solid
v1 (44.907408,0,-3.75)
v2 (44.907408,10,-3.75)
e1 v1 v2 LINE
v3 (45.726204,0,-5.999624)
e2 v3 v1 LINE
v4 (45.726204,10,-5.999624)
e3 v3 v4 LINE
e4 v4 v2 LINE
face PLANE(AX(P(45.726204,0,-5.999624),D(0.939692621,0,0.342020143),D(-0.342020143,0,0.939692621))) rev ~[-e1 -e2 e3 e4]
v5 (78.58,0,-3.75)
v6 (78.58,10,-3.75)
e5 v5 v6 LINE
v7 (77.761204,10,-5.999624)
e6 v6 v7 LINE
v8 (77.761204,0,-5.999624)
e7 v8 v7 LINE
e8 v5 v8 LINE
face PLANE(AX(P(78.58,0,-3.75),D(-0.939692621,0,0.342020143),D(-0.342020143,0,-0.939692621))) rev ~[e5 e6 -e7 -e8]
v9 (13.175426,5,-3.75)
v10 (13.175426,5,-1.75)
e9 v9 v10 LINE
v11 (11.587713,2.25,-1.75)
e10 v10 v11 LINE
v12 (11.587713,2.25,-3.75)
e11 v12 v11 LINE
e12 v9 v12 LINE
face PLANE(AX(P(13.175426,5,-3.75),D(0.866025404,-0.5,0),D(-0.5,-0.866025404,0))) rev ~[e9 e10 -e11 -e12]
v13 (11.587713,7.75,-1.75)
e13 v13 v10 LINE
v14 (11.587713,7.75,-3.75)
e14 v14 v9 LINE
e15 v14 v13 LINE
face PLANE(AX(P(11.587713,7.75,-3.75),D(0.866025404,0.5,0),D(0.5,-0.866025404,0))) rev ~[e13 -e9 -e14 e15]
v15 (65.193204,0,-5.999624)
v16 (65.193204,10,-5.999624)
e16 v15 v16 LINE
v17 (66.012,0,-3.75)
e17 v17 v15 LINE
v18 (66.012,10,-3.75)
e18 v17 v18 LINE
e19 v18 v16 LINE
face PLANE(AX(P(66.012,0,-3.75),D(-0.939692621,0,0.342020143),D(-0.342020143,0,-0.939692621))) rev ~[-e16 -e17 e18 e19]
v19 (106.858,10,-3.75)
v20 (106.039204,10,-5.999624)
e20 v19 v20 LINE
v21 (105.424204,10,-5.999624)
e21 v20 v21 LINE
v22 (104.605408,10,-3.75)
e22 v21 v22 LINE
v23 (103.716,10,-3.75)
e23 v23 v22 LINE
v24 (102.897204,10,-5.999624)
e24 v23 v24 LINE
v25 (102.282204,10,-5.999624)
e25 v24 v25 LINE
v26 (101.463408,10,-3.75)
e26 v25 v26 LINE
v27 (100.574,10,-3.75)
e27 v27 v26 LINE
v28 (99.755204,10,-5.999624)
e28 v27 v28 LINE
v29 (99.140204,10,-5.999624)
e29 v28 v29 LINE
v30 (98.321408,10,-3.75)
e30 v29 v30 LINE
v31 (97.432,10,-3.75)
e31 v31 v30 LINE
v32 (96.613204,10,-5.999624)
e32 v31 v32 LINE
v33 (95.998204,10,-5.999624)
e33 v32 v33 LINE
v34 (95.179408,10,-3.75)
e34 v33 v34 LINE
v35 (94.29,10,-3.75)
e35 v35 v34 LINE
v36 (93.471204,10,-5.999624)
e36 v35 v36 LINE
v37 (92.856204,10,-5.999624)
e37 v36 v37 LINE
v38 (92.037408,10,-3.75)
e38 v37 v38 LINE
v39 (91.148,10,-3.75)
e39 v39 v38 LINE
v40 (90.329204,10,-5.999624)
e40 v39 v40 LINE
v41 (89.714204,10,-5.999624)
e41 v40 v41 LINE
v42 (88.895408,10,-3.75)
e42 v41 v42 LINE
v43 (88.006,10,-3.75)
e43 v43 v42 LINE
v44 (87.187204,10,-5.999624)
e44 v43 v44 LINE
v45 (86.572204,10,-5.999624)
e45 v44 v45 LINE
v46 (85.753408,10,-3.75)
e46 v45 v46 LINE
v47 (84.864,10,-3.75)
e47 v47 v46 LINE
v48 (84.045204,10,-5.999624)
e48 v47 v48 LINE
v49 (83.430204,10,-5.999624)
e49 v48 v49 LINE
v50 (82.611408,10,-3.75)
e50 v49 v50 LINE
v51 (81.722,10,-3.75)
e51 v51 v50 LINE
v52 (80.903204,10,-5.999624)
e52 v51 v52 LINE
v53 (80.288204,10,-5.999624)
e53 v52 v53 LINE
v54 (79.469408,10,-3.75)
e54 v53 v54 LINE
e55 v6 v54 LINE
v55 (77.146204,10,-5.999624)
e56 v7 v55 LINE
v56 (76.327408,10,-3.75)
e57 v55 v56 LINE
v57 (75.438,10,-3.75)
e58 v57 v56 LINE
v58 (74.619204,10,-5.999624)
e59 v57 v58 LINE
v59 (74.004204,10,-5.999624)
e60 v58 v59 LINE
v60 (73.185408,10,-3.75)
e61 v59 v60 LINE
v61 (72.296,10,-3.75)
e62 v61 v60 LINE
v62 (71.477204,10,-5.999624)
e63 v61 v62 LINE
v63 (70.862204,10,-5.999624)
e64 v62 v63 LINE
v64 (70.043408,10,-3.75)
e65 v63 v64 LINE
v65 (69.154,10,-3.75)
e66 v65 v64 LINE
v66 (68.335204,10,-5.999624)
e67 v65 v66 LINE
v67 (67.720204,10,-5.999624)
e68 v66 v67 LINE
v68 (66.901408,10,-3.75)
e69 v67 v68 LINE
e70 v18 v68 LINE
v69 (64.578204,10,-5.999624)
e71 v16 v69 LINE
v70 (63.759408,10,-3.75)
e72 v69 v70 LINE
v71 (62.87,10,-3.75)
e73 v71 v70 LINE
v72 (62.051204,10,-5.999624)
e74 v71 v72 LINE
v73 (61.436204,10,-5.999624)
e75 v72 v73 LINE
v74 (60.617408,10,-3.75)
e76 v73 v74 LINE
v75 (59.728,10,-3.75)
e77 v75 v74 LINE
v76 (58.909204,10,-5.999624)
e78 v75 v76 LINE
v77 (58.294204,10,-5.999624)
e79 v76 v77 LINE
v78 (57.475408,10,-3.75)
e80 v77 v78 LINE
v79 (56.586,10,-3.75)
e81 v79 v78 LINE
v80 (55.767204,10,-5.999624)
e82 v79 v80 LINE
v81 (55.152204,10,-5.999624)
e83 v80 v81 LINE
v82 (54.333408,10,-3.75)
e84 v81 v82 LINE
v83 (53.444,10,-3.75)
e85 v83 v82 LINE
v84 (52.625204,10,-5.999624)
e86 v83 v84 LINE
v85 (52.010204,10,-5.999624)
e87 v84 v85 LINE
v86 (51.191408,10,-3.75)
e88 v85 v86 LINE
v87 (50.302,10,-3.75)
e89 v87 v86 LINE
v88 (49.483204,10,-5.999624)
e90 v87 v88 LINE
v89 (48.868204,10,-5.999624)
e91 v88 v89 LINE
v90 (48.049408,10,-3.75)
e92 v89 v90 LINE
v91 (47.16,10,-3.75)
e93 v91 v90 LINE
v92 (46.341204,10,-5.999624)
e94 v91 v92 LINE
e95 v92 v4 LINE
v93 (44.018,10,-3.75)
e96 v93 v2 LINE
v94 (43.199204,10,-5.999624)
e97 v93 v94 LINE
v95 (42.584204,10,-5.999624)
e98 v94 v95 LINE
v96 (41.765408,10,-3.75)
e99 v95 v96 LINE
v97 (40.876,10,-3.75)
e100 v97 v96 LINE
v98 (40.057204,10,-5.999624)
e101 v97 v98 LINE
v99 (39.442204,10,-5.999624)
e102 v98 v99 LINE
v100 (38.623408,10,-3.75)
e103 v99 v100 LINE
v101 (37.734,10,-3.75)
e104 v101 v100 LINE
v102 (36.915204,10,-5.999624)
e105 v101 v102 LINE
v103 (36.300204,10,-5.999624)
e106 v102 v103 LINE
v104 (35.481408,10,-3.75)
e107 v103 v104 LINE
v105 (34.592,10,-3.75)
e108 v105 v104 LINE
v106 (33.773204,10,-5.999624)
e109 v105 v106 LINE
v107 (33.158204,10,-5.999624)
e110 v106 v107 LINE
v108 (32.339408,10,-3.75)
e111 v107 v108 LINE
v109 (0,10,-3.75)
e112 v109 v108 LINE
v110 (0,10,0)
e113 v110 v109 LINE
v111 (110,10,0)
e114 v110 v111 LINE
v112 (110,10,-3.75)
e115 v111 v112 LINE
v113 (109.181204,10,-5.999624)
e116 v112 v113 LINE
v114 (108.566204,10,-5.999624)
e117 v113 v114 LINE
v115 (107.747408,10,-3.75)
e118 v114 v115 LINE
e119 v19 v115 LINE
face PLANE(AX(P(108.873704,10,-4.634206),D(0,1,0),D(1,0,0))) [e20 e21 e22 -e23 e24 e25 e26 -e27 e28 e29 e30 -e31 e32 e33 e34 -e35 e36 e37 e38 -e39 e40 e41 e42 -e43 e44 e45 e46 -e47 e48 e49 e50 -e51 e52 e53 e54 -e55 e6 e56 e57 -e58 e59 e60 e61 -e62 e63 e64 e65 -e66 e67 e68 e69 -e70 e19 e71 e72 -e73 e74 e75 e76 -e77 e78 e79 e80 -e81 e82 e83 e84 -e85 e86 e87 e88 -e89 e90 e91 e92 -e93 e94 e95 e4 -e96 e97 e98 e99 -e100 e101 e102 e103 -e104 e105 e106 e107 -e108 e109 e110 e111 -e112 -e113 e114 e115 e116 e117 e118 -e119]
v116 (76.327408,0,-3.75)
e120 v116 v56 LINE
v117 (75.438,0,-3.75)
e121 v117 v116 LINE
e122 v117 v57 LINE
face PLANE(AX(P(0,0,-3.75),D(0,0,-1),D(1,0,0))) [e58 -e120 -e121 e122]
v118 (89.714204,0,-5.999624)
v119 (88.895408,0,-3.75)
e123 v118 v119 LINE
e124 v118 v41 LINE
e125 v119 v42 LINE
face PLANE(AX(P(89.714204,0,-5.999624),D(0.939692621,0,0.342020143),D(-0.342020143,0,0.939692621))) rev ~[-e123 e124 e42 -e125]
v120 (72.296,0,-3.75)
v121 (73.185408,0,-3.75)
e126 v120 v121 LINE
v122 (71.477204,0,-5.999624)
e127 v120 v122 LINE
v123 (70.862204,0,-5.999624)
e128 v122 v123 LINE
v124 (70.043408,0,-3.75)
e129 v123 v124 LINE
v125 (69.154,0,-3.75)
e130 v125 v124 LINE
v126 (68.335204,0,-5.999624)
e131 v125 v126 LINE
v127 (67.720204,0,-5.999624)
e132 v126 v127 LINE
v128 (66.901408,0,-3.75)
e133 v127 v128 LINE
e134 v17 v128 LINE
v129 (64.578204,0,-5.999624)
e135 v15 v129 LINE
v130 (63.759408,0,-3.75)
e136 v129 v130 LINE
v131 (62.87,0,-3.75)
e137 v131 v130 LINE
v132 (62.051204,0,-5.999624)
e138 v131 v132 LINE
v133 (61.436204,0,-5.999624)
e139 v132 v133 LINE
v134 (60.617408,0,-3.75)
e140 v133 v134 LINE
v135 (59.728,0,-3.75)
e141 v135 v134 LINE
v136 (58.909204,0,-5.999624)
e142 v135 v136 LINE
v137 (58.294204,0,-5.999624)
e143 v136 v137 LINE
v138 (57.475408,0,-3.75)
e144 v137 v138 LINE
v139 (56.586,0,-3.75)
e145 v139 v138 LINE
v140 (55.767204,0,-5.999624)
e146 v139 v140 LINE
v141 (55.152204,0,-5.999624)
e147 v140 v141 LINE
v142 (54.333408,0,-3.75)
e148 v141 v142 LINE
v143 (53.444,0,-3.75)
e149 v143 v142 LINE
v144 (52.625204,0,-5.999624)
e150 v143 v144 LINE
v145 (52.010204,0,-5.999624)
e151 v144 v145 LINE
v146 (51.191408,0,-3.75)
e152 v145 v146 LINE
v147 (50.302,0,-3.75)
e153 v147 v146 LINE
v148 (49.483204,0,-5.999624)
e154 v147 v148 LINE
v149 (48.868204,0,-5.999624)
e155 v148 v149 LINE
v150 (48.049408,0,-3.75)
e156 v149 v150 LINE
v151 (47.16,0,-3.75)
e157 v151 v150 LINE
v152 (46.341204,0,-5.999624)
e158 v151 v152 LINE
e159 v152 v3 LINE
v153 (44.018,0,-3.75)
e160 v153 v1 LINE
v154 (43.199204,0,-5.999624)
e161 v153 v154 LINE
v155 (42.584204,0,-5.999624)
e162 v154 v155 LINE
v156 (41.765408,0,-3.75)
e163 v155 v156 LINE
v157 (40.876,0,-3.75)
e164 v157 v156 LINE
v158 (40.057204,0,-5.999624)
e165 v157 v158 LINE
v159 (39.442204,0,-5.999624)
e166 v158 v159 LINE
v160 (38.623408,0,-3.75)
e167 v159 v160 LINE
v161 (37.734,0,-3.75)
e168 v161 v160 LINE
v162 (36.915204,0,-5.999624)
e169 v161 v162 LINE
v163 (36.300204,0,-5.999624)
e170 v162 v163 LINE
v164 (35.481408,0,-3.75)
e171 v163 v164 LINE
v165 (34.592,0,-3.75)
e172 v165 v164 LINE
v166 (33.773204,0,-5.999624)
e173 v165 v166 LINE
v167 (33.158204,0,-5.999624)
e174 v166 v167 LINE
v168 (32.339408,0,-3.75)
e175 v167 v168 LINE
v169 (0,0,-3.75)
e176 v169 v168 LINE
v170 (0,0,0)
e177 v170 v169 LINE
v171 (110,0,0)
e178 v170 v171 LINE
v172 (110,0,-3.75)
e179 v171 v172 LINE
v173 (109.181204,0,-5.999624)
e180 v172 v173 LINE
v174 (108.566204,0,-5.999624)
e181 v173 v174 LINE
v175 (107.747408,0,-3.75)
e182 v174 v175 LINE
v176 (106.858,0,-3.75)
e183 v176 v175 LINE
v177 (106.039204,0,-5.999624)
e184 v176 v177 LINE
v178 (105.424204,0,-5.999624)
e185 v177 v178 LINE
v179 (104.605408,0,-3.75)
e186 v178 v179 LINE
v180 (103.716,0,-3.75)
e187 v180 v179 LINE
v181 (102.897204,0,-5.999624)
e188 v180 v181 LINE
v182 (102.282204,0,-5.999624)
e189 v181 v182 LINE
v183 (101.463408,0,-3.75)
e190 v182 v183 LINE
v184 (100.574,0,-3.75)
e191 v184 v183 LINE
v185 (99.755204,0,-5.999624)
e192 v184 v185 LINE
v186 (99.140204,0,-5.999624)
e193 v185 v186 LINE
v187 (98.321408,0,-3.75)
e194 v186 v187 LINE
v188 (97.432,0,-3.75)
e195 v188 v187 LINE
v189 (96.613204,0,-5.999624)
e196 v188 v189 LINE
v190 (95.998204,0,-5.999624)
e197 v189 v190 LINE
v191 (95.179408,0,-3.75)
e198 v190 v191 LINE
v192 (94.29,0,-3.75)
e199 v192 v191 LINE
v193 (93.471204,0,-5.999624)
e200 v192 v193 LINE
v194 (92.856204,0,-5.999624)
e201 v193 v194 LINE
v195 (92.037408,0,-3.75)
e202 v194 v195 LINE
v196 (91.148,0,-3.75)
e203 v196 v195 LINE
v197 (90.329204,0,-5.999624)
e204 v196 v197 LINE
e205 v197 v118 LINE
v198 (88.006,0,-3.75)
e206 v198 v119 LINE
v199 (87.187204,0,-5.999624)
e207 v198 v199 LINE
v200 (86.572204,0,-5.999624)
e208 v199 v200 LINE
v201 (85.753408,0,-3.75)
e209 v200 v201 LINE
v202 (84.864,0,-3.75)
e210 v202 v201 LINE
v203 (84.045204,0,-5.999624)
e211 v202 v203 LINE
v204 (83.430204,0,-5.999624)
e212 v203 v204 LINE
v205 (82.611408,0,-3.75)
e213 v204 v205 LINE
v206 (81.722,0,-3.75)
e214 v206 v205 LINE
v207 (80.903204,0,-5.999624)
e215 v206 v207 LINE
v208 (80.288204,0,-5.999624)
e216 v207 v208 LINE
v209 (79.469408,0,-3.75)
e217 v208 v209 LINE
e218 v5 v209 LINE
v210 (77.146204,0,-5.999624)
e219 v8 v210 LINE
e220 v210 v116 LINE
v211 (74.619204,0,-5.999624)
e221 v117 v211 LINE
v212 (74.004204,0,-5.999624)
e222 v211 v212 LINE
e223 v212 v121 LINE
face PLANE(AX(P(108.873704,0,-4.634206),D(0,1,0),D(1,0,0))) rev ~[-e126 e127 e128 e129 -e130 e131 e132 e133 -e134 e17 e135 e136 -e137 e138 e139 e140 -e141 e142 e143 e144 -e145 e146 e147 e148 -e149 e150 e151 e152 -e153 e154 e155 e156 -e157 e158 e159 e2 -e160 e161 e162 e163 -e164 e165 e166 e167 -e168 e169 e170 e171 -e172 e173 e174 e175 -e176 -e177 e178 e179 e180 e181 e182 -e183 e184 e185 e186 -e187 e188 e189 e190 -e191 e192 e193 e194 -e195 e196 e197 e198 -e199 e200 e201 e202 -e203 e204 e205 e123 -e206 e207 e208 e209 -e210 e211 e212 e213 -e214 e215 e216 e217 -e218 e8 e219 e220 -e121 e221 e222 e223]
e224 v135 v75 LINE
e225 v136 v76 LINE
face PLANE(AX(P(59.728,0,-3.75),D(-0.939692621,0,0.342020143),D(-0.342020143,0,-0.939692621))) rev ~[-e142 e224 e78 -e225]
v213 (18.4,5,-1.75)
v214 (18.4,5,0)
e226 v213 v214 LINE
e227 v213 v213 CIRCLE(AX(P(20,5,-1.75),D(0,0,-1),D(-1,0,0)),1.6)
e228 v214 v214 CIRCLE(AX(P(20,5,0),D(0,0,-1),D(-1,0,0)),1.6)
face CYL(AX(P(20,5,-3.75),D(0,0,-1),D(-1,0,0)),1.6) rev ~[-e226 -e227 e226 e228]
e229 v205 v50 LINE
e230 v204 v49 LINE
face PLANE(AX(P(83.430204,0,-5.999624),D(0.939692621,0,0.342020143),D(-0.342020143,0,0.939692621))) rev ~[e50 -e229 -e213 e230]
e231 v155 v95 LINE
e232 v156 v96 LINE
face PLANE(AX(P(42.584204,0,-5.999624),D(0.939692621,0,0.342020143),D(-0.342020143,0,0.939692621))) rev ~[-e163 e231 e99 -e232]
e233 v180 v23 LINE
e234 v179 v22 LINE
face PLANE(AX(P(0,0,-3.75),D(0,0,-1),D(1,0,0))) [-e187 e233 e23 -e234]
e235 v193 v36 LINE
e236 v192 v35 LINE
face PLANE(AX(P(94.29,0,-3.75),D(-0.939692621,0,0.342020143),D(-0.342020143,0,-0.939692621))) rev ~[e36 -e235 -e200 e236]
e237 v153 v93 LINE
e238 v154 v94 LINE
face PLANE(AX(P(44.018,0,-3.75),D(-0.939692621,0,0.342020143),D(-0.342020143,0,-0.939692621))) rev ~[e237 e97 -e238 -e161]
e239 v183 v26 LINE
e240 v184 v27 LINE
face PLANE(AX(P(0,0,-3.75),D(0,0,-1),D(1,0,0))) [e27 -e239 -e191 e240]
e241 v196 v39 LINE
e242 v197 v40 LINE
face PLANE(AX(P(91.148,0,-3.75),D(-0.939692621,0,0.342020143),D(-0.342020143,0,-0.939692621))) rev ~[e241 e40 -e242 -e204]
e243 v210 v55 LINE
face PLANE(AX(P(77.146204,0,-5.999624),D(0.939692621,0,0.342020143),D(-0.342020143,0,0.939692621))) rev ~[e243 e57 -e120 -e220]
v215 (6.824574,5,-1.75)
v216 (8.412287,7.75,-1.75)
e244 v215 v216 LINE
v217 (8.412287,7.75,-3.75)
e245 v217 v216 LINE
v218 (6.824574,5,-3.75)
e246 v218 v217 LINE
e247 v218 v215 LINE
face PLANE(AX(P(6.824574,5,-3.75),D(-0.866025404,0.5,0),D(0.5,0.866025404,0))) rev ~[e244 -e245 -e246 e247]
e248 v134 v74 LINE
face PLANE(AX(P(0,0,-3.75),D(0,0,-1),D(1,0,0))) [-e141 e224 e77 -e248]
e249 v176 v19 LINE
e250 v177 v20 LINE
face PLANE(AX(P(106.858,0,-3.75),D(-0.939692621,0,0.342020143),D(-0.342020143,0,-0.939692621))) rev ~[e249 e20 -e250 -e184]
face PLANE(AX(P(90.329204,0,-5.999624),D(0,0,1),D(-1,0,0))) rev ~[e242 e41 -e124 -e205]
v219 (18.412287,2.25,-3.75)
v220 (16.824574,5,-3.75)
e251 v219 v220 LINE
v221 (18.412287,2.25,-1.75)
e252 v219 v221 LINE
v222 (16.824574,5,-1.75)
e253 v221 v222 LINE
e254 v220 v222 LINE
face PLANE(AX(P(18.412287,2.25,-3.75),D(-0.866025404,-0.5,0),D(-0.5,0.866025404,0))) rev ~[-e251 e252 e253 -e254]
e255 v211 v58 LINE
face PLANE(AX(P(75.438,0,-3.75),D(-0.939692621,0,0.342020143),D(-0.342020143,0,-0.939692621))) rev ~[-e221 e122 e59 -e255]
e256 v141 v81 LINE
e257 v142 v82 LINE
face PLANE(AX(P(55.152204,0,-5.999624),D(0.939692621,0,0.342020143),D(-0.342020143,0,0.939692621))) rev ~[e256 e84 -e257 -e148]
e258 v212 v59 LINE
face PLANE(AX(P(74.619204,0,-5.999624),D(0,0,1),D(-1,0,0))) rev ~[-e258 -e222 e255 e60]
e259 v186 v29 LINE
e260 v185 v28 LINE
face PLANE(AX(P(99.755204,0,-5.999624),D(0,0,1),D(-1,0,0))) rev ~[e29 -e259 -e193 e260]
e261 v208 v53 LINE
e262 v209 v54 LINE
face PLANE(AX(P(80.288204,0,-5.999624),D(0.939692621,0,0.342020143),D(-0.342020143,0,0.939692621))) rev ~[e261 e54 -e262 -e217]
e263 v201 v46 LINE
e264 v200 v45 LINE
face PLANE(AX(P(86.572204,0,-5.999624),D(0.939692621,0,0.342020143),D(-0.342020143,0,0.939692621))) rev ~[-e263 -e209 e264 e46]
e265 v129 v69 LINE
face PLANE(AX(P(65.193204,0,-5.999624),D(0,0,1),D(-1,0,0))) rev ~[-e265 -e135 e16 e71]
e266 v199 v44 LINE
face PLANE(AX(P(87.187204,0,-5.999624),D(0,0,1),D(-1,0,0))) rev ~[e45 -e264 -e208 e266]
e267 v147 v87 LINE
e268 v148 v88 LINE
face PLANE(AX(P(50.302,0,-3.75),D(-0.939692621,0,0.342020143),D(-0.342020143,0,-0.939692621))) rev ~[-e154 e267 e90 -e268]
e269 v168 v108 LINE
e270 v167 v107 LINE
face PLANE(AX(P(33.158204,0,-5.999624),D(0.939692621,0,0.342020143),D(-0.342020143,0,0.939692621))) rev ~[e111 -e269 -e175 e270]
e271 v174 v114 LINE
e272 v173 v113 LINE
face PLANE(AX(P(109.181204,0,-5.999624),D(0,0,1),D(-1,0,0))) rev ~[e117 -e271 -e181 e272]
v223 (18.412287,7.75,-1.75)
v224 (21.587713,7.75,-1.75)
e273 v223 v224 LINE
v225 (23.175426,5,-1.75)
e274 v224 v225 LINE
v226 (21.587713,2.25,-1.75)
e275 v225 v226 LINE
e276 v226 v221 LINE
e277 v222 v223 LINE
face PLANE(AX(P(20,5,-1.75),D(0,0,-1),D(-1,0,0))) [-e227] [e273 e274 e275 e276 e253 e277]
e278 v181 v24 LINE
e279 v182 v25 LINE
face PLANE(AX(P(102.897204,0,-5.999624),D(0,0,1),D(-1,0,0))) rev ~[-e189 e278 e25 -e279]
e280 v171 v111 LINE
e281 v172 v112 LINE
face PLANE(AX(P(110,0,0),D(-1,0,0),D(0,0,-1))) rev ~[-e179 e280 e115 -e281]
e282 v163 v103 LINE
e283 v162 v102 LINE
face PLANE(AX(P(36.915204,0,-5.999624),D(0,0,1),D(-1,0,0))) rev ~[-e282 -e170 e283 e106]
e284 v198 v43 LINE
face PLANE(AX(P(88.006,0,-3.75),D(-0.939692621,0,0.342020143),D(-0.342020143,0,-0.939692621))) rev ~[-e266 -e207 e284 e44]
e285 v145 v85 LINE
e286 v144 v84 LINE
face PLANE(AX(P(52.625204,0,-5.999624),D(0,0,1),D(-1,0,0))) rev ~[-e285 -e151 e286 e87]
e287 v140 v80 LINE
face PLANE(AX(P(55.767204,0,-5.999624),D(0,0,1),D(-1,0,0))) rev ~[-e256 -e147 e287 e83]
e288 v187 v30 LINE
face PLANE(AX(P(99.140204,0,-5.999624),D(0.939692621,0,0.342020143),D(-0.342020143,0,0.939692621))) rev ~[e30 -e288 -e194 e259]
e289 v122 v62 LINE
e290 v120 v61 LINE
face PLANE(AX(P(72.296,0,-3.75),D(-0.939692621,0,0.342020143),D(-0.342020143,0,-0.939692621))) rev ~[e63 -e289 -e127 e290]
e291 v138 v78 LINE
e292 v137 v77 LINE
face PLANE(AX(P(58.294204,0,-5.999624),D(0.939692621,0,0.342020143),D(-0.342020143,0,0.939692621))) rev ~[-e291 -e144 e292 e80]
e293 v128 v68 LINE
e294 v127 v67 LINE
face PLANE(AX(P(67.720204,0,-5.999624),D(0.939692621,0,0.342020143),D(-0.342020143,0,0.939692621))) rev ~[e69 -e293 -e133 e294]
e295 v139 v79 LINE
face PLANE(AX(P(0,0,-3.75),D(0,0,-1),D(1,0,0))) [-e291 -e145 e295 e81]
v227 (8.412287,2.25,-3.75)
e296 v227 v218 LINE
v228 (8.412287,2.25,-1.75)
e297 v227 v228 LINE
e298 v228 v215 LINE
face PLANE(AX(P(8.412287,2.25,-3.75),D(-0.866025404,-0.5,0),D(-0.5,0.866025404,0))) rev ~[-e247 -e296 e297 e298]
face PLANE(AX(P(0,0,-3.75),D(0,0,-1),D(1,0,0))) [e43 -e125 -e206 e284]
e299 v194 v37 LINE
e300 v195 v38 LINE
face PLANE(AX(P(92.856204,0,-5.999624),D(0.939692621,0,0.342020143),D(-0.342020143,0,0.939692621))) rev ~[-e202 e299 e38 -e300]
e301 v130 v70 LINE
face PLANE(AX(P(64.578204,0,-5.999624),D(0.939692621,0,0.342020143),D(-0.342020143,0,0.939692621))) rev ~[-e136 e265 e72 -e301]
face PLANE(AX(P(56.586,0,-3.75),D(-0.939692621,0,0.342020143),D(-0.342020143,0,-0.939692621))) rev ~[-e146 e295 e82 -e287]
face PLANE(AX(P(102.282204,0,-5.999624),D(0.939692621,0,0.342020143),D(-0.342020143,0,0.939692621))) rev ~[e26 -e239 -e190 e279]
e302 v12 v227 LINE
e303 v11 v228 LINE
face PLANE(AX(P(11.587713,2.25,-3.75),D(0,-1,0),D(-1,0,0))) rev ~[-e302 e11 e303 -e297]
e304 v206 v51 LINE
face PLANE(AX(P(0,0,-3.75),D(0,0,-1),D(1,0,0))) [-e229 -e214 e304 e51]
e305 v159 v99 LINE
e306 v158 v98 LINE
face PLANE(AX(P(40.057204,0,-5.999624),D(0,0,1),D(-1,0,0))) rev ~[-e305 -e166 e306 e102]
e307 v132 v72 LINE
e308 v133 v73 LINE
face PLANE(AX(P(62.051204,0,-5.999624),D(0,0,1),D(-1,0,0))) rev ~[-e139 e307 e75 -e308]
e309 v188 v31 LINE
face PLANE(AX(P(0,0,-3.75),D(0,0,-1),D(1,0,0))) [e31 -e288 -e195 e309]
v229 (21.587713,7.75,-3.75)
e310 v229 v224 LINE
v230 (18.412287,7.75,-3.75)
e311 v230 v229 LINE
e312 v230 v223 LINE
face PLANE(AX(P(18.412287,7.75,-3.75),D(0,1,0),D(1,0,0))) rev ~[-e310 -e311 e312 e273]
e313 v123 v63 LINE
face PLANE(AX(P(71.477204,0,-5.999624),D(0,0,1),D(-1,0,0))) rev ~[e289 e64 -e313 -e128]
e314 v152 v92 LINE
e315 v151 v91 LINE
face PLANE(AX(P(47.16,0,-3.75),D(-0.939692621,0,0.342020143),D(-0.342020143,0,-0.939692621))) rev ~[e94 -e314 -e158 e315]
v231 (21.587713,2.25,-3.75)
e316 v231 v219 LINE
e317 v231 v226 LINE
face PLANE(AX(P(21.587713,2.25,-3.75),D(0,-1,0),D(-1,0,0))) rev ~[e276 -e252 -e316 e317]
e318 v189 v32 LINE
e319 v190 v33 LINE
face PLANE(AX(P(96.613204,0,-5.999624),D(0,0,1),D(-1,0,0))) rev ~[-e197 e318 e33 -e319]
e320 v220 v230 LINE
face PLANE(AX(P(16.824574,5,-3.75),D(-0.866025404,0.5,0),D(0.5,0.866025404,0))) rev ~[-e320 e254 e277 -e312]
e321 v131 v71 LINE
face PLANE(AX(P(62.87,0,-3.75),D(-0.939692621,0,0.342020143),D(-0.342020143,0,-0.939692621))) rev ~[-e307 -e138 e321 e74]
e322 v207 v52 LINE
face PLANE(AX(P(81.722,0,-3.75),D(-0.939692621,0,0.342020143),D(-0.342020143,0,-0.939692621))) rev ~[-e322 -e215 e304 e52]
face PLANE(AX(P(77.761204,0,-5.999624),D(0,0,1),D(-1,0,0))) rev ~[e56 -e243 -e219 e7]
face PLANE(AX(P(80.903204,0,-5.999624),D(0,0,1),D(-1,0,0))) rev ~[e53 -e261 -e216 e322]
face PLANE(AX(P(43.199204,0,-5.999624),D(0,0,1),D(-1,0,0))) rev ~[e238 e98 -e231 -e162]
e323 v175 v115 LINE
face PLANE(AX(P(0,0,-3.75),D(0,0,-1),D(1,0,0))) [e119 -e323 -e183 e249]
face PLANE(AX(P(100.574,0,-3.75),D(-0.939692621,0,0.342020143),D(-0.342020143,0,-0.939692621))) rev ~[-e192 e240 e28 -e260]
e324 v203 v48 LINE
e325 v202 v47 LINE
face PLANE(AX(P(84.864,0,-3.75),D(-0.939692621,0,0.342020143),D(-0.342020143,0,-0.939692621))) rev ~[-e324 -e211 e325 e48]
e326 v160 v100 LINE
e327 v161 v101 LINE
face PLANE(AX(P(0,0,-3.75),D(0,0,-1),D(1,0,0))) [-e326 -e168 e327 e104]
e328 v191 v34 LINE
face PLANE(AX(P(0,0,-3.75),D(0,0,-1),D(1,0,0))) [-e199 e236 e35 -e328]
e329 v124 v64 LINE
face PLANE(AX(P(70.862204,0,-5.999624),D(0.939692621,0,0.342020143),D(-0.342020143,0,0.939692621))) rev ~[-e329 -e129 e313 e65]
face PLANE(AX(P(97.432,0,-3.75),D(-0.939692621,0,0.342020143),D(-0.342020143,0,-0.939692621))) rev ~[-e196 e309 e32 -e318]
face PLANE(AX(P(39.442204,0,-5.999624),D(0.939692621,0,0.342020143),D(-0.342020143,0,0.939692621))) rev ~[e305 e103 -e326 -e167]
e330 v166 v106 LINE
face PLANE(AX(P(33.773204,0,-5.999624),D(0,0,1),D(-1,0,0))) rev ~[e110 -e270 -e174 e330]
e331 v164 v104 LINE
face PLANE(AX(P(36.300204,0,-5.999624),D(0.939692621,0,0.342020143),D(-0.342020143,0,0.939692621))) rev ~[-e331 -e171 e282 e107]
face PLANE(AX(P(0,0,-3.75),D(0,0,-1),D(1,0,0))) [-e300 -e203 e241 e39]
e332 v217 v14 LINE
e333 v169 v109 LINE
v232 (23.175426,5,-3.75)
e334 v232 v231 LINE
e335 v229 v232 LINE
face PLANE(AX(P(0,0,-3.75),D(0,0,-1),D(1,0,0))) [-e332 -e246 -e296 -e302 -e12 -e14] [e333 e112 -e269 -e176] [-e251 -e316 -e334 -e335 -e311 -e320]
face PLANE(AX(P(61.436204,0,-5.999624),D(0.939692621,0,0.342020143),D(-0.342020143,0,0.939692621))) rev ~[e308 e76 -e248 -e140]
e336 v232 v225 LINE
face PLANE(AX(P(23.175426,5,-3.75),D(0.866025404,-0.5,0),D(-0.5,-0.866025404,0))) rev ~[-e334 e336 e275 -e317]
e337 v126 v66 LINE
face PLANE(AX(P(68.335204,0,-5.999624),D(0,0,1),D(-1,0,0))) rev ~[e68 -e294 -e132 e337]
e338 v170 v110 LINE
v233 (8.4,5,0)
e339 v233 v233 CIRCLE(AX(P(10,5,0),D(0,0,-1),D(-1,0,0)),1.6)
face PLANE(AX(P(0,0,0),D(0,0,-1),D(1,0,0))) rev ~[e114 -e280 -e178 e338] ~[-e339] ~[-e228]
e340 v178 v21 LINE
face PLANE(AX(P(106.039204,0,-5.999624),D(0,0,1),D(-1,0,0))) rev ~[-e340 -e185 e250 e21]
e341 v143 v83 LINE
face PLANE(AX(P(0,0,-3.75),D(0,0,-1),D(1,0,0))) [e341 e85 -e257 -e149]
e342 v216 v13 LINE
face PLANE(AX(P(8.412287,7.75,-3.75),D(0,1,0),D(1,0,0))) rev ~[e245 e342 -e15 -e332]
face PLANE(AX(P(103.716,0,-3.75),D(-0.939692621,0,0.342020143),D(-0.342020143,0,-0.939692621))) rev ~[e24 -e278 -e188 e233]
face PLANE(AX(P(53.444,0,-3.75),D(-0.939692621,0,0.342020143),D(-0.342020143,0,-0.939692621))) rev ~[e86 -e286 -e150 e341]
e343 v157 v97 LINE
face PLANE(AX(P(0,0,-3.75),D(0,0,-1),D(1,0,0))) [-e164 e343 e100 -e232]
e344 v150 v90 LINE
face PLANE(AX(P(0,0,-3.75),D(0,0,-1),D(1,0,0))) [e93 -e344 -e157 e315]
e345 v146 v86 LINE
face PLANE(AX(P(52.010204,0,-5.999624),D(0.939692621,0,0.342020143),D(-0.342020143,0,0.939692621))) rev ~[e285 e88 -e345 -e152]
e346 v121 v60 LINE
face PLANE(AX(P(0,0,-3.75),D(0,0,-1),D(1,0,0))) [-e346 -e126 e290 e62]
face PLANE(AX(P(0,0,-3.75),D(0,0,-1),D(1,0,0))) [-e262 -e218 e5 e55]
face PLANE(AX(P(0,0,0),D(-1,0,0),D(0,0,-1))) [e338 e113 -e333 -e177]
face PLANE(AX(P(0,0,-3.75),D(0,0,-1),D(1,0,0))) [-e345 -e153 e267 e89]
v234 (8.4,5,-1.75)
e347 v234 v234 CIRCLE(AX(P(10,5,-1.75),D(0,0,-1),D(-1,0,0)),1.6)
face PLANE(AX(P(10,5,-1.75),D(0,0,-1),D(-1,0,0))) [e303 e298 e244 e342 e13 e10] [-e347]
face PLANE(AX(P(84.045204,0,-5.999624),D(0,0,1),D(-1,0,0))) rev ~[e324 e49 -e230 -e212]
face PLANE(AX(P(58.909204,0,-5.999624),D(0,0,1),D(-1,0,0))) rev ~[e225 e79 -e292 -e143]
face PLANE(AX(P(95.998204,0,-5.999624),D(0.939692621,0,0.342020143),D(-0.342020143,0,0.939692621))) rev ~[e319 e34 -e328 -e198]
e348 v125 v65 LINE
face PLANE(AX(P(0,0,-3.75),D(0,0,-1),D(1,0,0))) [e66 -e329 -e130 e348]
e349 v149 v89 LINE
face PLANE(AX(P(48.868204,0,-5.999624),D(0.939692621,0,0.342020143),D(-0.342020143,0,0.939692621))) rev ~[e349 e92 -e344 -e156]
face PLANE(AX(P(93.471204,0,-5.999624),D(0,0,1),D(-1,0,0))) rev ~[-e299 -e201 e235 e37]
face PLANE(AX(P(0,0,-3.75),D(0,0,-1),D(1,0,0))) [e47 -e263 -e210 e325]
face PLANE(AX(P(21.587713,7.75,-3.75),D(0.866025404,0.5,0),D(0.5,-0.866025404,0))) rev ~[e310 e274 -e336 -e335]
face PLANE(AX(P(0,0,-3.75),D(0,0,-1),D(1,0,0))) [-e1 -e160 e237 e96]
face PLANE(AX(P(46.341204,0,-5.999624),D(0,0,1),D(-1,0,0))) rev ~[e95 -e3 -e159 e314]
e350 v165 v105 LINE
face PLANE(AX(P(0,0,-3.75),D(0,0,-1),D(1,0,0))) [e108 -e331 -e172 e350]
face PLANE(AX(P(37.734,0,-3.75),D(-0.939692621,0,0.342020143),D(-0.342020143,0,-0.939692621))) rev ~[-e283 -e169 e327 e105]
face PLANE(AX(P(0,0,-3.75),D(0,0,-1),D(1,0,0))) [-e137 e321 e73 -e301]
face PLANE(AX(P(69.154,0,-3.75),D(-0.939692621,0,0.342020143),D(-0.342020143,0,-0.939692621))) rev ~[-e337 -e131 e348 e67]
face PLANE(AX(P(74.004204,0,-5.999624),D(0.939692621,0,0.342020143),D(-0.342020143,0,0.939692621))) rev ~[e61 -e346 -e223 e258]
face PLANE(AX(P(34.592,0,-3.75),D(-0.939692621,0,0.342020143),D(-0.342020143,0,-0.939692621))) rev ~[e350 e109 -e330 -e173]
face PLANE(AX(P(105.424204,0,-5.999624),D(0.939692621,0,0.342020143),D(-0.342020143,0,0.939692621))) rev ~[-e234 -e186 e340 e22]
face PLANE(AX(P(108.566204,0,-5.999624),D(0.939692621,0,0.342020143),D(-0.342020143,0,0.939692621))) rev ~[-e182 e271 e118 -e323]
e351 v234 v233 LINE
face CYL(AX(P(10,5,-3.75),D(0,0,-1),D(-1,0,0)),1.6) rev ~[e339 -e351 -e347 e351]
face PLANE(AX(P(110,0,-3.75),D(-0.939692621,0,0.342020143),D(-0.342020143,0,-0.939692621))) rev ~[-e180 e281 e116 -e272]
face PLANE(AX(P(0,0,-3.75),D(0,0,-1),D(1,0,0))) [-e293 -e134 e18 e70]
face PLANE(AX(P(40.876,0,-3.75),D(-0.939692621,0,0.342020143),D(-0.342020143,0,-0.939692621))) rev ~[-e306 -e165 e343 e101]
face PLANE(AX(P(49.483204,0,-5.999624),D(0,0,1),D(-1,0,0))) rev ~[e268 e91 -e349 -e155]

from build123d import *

# Parameters (mm, degrees)
EXTRUDE_1_DEPTH        = 10
EXTRUDE_2_DEPTH        = 10
PATTERN_LINEAR_1_COUNT = 25
PATTERN_LINEAR_1_PITCH = 3.142
SKETCH_2_R             = 1.6
CUT_EXTRUDE_1_DEPTH    = 10
CUT_EXTRUDE_2_DEPTH    = 2


with BuildPart() as part:
    # 草图1 → 凸台-拉伸1 (new body)
    with BuildSketch(Plane(origin=(0, 0, 0), x_dir=(1, 0, 0), z_dir=(0, 1, 0))):
        Polygon((0, 3.75), (0, 0), (110, 0), (110, 3.75), (107.747407554, 3.75), align=None)
    extrude(amount=EXTRUDE_1_DEPTH)

    # 草图1<5> → 凸台-拉伸2 (add)
    with BuildSketch(Plane(origin=(0, 0, 0), x_dir=(1, 0, 0), z_dir=(0, 1, 0))):
        Polygon((107.747407554, 3.75), (110, 3.75), (109.181203777, 5.999624134), (108.566203777, 5.999624134), align=None)
    extrude_2 = extrude(amount=EXTRUDE_2_DEPTH)

    # 阵列(线性)1: 凸台-拉伸2 ×25
    with Locations(*[(-i * PATTERN_LINEAR_1_PITCH, 0, 0) for i in range(1, PATTERN_LINEAR_1_COUNT)]):
        add(extrude_2)

    # 草图2 → 切除-拉伸1 (cut)
    with BuildSketch(Plane(origin=(0, 0, -3.75), x_dir=(-1, 0, 0), z_dir=(0, 0, -1))):
        with Locations((-10, 5)):
            Circle(SKETCH_2_R)
        with Locations((-20, 5)):
            Circle(SKETCH_2_R)
    extrude(amount=-CUT_EXTRUDE_1_DEPTH, mode=Mode.SUBTRACT)

    # 草图3 → 切除-拉伸2 (cut)
    with BuildSketch(Plane(origin=(0, 0, -3.75), x_dir=(-1, 0, 0), z_dir=(0, 0, -1))):
        Polygon((-21.58771324, 7.75), (-23.175426481, 5), (-21.58771324, 2.25), (-18.41228676, 2.25), (-16.824573519, 5), (-18.41228676, 7.75), align=None)
        Polygon((-11.58771324, 7.75), (-13.175426481, 5), (-11.58771324, 2.25), (-8.41228676, 2.25), (-6.824573519, 5), (-8.41228676, 7.75), align=None)
    extrude(amount=-CUT_EXTRUDE_2_DEPTH, mode=Mode.SUBTRACT)


solid = part.part
